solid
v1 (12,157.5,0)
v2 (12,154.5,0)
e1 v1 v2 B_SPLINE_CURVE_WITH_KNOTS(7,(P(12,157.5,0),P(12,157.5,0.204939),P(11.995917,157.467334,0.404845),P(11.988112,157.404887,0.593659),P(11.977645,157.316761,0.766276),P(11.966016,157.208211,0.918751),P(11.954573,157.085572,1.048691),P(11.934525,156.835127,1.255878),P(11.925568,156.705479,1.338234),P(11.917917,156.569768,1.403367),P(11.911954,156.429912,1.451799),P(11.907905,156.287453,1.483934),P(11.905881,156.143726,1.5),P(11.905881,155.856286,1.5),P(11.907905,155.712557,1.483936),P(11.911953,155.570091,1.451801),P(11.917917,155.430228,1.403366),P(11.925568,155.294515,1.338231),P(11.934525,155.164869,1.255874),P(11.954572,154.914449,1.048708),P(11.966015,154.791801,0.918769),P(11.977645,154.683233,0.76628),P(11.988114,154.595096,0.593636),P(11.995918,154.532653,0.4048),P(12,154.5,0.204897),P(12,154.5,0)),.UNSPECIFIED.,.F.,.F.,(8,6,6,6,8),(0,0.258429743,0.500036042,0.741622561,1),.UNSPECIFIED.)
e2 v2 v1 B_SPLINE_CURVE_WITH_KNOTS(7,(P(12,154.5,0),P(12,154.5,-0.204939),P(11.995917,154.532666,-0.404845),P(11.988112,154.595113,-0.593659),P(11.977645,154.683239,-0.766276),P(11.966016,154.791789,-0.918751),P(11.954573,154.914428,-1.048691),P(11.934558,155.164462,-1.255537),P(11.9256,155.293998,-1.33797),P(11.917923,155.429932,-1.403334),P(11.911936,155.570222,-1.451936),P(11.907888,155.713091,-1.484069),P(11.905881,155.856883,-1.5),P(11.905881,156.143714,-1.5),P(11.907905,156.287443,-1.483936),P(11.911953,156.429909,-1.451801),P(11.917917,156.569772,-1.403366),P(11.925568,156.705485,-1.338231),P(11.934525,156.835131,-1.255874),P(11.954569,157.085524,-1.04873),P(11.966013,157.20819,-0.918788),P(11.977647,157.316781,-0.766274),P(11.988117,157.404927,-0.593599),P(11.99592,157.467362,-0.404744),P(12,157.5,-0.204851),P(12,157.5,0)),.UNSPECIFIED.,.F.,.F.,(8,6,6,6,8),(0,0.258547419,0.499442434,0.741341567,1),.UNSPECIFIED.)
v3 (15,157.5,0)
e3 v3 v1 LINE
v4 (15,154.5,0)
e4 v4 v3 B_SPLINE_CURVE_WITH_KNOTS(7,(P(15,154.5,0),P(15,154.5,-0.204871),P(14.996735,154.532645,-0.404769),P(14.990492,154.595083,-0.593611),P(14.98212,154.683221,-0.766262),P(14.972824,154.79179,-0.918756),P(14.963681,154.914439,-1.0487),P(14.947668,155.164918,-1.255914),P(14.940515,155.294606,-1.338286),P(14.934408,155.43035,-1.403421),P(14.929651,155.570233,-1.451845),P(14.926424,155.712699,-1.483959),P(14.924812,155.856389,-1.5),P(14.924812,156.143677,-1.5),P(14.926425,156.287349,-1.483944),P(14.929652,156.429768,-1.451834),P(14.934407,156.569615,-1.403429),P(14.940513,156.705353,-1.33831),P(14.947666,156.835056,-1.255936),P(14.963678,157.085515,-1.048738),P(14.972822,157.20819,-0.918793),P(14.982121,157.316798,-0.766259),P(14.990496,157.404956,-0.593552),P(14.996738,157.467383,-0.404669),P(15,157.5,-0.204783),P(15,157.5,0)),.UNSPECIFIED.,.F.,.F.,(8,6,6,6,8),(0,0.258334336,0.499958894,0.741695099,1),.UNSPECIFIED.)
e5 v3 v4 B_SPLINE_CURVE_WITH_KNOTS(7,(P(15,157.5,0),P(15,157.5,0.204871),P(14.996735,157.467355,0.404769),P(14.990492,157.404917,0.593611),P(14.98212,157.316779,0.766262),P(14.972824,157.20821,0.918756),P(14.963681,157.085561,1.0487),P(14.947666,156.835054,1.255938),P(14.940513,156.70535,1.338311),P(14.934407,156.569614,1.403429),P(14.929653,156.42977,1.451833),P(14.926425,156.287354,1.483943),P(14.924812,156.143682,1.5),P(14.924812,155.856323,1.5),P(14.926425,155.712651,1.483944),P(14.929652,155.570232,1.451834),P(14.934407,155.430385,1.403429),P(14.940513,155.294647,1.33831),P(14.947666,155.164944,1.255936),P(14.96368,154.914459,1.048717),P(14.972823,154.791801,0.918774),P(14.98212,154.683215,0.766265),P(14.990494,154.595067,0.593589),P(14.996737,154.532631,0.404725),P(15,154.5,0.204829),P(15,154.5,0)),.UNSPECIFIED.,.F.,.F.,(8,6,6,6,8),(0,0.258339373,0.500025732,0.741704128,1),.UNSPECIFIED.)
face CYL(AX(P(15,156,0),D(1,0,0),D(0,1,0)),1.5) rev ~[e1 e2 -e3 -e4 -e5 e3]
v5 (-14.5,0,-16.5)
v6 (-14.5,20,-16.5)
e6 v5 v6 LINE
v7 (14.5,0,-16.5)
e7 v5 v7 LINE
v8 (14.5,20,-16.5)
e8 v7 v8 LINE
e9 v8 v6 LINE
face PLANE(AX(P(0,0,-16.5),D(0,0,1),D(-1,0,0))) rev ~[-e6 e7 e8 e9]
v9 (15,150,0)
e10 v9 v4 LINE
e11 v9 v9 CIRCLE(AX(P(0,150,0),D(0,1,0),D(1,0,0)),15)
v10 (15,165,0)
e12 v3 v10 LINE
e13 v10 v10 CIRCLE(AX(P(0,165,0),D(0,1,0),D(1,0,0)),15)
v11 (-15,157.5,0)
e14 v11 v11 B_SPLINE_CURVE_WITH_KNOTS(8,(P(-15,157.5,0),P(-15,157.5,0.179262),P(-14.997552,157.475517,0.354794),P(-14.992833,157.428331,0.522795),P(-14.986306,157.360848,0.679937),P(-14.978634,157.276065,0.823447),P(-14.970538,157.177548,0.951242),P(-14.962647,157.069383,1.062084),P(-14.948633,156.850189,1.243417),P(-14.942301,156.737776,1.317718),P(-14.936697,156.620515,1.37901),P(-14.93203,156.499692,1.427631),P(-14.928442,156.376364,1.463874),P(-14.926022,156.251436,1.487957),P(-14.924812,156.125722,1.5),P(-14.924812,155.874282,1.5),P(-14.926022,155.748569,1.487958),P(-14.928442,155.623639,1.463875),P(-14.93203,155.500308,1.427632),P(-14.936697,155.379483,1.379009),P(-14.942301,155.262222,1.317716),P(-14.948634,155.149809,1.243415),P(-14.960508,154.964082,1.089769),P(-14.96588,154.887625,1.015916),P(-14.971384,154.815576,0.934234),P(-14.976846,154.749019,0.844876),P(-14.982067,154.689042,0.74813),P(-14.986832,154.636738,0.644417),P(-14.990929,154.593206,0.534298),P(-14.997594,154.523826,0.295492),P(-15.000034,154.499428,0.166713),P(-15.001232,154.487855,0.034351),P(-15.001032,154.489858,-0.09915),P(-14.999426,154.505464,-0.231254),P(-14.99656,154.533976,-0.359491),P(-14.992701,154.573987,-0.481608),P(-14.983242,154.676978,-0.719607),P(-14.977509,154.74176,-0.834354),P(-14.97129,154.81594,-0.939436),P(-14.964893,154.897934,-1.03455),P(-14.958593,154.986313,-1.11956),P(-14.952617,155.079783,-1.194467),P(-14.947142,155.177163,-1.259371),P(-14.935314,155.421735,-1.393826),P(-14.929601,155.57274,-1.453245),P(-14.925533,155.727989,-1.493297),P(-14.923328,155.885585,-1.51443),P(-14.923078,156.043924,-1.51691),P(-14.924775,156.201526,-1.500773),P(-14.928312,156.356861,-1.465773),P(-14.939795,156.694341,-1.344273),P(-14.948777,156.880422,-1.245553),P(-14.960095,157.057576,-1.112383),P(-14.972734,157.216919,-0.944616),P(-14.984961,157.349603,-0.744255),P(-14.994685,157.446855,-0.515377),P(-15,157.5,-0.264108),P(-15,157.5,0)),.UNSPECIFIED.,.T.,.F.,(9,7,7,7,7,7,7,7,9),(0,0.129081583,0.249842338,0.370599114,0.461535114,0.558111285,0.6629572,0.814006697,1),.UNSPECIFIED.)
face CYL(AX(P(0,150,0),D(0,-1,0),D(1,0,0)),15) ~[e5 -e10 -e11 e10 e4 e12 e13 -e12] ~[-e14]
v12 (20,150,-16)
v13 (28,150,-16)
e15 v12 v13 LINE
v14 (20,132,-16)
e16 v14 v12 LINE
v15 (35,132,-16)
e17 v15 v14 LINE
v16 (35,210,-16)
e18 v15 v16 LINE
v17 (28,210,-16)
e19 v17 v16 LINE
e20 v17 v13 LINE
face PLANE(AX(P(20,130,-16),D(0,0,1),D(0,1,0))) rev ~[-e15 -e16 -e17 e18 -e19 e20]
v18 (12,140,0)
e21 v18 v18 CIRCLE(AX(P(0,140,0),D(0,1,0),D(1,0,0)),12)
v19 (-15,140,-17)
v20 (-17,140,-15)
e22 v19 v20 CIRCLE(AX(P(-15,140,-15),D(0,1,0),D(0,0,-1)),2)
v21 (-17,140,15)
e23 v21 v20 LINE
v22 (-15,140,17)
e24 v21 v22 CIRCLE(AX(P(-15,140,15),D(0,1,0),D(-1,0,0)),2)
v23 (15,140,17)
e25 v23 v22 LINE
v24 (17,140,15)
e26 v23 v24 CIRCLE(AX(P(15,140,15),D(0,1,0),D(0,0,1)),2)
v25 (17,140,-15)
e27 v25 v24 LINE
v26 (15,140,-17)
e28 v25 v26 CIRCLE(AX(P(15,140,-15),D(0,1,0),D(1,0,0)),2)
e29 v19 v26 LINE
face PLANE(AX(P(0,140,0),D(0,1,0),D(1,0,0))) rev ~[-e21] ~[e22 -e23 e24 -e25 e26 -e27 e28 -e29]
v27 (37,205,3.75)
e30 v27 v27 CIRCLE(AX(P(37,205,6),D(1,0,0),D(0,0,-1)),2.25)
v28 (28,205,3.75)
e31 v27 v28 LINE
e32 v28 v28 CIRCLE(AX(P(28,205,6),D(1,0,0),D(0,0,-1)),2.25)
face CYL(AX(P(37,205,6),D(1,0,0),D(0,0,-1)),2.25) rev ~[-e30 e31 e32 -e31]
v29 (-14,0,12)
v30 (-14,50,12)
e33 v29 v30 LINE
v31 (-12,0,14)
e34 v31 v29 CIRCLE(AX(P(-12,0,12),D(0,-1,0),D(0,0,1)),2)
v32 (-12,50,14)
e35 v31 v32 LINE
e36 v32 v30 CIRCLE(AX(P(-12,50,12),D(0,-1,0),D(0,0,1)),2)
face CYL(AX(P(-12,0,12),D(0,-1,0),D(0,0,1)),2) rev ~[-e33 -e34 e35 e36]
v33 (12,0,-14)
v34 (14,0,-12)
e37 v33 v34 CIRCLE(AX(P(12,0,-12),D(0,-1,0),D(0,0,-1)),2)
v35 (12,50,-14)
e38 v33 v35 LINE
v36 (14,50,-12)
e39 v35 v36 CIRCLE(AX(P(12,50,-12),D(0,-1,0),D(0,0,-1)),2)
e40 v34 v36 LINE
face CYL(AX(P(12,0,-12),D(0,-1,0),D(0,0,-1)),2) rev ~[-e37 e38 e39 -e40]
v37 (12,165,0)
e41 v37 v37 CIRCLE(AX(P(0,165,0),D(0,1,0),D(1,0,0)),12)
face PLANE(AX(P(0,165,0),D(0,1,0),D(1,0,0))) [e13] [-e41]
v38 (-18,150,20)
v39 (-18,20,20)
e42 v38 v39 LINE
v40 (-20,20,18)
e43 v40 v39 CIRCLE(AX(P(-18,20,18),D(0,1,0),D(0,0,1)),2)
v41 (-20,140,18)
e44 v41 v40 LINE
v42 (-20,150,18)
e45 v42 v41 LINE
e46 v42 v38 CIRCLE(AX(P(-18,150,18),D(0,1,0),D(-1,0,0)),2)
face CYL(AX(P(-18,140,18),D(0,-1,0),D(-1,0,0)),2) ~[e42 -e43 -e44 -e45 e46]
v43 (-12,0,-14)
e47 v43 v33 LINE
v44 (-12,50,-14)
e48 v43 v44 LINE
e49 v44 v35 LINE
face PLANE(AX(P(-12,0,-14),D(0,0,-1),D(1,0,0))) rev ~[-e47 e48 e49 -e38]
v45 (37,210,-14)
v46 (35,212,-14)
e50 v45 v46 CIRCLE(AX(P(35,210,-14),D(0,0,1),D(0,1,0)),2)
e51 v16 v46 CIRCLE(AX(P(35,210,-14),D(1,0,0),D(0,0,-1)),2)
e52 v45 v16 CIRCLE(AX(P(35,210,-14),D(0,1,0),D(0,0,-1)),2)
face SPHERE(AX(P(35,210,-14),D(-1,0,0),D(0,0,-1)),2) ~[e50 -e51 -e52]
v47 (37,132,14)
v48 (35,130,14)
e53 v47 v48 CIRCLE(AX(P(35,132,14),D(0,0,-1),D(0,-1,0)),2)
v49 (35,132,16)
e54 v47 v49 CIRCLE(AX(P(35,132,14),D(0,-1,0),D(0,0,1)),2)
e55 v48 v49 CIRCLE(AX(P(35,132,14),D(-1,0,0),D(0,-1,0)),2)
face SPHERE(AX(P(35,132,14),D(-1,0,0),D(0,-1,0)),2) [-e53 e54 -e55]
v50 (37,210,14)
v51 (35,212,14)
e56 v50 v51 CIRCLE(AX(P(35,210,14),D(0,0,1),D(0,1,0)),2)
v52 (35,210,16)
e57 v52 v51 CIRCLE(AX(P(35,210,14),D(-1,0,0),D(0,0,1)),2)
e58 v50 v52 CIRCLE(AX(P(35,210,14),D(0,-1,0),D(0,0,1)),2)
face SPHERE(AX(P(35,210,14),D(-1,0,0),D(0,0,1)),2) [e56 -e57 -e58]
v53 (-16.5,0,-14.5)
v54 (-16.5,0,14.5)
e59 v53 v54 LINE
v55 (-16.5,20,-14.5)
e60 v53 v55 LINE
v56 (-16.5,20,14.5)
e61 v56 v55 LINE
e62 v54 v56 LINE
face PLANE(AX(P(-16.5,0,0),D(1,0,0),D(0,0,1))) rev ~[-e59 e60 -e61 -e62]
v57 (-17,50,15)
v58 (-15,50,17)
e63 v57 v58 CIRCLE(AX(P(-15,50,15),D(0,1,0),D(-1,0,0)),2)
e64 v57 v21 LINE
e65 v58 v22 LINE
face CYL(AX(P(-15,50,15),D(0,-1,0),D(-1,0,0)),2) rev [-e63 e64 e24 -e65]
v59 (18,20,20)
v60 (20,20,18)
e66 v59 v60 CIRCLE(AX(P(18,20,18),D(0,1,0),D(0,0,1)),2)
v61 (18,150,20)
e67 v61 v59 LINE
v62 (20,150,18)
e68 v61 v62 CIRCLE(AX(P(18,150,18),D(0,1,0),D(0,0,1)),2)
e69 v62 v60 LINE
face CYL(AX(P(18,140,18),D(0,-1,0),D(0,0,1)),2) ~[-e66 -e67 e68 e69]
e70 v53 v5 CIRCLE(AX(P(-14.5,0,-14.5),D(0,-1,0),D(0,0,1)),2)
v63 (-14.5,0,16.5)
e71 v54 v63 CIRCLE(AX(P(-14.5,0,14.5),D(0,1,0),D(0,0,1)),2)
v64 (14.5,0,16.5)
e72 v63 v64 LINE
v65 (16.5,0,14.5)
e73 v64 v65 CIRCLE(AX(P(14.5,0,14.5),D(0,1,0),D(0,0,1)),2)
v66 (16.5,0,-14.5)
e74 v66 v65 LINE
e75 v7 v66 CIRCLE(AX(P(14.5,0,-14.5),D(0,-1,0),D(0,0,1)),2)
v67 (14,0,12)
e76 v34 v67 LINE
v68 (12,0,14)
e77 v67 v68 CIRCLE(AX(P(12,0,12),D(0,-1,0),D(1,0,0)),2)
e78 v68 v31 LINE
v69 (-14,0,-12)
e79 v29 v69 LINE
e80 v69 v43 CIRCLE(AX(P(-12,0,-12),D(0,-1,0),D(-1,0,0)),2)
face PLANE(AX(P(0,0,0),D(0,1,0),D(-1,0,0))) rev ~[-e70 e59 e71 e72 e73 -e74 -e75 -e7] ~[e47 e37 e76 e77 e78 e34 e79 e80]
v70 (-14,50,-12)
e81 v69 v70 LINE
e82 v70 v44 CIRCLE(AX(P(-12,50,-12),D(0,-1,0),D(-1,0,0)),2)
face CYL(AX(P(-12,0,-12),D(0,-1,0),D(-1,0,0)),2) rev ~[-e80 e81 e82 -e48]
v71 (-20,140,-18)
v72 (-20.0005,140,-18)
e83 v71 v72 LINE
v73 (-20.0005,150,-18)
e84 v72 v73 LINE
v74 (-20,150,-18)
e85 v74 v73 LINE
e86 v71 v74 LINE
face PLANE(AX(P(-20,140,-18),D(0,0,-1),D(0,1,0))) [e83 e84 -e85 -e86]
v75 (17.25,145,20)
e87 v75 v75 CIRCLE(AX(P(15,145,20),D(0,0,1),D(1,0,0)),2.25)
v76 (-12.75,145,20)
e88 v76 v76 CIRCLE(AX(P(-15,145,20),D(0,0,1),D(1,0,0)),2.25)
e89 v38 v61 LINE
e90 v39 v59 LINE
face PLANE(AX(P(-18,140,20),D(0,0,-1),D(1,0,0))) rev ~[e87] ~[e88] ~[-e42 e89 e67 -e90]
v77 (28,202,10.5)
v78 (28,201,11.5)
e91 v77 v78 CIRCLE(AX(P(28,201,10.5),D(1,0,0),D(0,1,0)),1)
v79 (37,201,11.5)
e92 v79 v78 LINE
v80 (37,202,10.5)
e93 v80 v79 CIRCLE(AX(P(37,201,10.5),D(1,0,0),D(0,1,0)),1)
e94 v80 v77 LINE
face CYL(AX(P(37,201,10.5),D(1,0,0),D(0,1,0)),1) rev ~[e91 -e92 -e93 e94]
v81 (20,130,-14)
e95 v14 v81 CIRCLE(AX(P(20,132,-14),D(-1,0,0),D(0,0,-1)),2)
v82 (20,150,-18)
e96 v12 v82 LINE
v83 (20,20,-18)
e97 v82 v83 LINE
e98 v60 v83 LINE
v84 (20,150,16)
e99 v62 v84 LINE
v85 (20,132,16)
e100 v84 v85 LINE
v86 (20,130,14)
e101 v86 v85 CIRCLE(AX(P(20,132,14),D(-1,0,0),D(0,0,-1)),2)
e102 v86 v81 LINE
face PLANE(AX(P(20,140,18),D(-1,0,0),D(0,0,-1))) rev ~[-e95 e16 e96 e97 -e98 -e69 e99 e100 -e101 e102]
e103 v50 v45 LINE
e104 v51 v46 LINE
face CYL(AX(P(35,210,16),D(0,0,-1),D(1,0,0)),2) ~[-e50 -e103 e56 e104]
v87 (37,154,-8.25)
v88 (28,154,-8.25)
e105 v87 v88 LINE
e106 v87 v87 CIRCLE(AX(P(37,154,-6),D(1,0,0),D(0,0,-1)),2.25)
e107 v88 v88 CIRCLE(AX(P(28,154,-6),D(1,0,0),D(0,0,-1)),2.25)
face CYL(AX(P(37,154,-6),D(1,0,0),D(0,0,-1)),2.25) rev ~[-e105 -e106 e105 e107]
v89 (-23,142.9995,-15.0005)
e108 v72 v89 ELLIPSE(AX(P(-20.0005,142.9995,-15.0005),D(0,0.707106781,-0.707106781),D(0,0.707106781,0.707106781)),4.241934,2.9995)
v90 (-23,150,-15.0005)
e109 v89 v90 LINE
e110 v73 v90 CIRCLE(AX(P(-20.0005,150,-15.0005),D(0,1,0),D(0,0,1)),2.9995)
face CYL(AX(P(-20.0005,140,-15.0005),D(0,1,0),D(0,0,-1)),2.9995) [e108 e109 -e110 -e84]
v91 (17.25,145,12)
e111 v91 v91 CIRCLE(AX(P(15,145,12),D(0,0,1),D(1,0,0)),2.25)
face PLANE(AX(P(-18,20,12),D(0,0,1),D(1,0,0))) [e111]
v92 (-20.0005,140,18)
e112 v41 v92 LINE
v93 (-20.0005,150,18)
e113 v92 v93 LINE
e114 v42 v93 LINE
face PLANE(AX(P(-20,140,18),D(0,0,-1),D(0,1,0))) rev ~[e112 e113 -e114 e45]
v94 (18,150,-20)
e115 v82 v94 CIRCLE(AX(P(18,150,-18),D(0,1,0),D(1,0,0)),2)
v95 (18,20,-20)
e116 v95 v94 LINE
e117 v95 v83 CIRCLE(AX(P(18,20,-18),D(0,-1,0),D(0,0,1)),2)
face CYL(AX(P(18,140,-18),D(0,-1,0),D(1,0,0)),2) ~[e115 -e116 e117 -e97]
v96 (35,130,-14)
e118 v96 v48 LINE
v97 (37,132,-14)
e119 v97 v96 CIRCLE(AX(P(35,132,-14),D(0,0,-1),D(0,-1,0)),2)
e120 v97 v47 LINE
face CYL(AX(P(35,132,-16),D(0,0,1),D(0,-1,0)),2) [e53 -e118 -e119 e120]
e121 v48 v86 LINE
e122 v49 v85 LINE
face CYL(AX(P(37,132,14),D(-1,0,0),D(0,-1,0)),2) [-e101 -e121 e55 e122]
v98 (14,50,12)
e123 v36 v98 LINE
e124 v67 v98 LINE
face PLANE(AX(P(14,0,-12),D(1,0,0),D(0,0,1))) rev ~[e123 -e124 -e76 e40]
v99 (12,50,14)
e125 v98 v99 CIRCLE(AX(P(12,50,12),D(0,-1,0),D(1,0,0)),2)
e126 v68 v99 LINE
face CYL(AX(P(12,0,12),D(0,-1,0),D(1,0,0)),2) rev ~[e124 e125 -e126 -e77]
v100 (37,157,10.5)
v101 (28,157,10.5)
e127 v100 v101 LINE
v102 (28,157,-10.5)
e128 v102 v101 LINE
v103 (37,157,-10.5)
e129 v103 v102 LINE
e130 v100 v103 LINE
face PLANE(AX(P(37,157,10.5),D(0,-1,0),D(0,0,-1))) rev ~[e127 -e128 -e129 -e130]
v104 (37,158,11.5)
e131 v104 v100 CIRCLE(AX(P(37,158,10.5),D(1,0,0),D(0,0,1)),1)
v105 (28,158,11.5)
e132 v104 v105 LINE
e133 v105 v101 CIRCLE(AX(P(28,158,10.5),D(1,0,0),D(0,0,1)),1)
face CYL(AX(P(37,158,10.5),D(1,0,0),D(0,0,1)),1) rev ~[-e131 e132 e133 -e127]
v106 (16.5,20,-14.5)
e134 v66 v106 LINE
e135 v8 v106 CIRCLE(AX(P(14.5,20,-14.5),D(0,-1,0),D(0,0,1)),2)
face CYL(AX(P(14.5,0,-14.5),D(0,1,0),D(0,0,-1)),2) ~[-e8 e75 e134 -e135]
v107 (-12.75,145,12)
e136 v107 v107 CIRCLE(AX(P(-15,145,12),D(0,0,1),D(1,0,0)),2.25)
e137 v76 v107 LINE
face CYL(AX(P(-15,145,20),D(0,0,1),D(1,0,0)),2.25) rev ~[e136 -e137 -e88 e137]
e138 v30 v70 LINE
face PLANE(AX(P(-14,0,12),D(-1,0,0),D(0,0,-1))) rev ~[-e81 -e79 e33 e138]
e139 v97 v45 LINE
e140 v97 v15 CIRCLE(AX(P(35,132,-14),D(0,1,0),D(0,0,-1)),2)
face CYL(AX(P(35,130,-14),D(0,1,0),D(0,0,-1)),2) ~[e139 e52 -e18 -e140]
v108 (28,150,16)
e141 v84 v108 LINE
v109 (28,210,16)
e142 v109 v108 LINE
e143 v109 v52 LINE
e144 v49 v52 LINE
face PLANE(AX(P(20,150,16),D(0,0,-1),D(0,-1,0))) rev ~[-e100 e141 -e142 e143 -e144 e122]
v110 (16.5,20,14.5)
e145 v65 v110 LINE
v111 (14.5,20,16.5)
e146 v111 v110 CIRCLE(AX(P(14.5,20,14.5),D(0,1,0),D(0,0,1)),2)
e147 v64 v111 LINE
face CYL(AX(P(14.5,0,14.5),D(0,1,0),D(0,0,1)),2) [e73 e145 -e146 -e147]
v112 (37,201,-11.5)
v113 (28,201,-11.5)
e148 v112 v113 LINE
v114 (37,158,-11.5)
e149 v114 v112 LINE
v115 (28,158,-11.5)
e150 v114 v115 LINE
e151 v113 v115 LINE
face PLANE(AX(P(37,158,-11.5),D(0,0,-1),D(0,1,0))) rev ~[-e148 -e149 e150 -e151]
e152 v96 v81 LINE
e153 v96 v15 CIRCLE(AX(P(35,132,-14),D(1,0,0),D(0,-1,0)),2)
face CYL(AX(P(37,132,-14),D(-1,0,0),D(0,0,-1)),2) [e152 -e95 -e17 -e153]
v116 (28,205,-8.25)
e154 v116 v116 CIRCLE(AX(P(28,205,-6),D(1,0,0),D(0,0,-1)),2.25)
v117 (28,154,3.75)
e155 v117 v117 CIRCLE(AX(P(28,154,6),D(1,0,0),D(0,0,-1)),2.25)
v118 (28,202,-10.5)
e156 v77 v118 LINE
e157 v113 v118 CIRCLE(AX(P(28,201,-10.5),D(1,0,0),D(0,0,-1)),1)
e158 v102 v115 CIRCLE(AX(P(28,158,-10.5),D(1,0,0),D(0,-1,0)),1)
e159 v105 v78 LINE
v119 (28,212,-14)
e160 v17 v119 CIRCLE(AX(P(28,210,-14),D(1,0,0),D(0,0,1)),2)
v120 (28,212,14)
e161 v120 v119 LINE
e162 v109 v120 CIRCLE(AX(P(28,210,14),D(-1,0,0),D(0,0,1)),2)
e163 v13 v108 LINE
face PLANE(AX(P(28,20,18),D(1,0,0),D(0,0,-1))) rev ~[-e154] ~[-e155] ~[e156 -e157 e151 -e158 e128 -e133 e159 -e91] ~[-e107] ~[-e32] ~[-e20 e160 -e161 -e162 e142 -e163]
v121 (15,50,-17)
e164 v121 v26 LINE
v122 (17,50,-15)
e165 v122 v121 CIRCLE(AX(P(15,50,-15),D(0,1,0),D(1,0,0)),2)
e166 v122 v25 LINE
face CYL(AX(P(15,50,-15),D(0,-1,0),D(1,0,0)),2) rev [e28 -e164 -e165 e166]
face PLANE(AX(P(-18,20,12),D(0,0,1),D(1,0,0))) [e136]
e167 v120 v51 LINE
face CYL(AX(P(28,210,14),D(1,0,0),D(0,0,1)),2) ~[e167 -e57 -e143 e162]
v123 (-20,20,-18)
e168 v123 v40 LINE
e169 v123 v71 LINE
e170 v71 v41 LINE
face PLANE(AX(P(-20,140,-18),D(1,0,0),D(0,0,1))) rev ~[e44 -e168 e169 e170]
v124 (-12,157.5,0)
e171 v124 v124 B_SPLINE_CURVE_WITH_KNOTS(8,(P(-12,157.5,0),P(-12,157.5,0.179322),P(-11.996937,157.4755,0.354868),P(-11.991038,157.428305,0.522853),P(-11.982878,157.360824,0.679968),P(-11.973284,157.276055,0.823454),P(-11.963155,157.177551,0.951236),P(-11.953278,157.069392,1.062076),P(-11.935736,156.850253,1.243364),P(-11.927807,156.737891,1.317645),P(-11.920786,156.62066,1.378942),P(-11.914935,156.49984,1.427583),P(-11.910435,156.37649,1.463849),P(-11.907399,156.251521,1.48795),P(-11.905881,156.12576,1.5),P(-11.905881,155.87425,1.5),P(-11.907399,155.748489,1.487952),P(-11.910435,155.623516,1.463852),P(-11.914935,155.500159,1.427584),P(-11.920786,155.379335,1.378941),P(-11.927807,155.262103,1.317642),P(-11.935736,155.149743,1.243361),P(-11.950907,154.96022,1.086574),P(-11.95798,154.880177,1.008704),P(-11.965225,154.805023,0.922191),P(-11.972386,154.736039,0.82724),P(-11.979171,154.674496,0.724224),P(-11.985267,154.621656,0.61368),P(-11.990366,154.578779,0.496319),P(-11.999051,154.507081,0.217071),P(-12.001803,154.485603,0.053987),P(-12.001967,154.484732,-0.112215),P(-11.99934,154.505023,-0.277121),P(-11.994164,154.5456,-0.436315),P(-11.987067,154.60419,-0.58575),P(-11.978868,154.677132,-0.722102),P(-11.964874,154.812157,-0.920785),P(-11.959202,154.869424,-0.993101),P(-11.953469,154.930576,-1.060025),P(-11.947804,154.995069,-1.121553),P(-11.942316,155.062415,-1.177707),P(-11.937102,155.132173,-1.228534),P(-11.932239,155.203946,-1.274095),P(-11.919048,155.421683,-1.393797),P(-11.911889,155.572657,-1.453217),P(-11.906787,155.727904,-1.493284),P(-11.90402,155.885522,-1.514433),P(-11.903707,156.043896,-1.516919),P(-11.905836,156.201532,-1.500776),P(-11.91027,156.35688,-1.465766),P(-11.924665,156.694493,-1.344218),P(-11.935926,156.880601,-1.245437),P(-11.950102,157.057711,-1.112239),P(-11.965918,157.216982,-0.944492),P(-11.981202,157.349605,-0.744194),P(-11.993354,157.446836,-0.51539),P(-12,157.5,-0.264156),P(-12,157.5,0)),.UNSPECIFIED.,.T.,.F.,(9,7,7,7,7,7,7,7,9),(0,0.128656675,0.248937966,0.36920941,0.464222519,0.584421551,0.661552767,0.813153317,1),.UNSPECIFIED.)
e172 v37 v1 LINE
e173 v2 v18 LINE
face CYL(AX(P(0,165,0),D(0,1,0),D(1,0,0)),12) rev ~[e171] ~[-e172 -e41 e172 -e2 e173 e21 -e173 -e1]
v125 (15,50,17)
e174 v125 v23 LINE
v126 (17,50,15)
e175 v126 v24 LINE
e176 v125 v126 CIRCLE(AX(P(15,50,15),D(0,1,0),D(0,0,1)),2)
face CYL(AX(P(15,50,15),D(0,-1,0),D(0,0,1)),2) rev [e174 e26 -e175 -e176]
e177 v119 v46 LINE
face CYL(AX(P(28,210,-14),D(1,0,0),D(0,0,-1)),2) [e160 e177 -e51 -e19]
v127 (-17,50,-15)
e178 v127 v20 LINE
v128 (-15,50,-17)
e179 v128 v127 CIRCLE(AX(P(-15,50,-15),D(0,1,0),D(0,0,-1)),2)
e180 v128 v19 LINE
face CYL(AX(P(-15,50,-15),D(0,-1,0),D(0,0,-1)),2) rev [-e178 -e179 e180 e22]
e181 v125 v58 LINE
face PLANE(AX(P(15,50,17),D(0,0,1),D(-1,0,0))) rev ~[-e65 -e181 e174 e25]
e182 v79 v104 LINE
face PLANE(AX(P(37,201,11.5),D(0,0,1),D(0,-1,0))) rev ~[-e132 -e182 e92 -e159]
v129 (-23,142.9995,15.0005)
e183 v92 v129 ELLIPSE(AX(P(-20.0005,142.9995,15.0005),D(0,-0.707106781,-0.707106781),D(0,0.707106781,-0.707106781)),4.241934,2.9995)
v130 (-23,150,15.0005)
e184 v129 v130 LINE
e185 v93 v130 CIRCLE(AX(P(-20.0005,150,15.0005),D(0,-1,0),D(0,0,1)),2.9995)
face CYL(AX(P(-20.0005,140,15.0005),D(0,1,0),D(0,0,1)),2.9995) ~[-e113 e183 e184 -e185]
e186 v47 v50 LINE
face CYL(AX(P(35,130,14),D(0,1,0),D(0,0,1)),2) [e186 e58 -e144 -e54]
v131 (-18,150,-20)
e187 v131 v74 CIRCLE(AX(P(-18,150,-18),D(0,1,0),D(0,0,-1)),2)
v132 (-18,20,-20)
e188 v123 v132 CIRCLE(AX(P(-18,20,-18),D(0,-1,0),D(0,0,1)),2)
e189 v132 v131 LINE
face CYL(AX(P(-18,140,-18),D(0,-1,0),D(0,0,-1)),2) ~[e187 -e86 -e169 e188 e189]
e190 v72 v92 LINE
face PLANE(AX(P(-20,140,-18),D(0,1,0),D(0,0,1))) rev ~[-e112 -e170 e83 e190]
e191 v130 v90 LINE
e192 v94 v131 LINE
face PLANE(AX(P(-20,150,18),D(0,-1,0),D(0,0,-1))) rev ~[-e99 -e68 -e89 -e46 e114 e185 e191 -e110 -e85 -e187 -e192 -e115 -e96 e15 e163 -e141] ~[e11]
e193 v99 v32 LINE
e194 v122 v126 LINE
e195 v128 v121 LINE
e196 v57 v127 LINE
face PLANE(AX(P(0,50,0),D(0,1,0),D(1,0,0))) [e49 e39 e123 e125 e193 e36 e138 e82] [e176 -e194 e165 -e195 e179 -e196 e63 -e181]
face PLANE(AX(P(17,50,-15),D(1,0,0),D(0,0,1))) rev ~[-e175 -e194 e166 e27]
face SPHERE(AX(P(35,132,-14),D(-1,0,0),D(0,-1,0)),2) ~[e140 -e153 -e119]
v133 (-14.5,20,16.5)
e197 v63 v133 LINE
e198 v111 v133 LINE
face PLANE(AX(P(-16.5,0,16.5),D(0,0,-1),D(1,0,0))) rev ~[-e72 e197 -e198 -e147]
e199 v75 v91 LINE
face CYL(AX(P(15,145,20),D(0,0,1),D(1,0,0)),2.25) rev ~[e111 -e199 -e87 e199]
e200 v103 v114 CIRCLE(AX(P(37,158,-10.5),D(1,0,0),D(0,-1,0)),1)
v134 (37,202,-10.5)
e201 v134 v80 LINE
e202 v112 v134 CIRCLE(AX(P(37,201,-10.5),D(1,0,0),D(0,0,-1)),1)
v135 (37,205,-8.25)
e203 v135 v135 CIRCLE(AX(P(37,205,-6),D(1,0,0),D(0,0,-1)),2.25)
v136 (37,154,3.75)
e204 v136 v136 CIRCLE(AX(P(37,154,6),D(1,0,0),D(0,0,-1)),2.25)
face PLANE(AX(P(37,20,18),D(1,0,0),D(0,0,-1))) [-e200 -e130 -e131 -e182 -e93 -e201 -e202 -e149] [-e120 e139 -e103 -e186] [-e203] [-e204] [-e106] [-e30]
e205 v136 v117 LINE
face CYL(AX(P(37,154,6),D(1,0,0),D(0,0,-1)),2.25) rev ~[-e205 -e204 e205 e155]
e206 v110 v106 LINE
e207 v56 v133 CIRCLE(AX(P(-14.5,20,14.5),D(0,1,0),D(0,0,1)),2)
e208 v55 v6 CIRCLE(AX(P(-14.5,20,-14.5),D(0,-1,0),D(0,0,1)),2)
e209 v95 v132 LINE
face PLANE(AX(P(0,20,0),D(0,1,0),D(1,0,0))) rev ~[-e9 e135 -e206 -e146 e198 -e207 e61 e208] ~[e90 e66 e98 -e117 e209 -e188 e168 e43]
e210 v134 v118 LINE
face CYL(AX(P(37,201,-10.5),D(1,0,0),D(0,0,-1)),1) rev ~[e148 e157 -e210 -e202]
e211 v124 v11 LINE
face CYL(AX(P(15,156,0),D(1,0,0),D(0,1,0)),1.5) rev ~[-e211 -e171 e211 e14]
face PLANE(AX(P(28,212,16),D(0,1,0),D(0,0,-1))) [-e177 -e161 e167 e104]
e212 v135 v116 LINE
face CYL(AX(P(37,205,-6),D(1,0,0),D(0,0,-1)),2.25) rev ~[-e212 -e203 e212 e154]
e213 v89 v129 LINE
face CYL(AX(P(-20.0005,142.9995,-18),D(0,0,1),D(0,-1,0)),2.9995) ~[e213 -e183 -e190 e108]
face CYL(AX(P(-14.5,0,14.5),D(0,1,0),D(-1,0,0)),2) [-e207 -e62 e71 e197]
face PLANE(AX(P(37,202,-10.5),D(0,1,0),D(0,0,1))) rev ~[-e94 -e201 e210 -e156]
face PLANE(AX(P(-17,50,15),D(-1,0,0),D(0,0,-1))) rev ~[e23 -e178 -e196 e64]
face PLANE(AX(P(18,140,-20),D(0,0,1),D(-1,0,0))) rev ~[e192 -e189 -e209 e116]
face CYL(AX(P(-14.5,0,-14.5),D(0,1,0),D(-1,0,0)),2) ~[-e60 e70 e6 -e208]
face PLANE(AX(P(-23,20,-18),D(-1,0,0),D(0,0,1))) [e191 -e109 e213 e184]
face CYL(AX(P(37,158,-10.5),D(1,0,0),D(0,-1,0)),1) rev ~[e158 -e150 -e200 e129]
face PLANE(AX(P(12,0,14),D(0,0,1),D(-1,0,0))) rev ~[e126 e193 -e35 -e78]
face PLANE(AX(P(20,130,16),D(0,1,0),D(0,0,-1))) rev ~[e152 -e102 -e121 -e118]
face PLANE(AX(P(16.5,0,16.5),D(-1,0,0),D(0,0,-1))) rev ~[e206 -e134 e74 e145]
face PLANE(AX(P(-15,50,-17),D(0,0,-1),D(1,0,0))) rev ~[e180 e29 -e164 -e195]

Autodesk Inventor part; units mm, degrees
ref_plane "XZ Plane" through (0, 0, 0) normal (0, 1, 0) x (-1, 0, 0)
ref_plane "XY Plane" through (0, 0, 0) normal (0, 0, 1) x (1, 0, 0)
sketch "スケッチ1" plane through (0, 0, 0) normal (0, 1, 0) x (-1, 0, 0)
  line L0 (16.5, 16.5) -> (-16.5, 16.5)
  line L1 (-16.5, 16.5) -> (-16.5, -16.5)
  line L2 (-16.5, -16.5) -> (16.5, -16.5)
  line L3 (16.5, -16.5) -> (16.5, 16.5)
  line L4 (-23.1, 0) -> (23.1, 0) projected
  line L5 (0, -23.1) -> (0, 23.1) projected
  point P0 (0, 0)
  dimension "d0" = 33
  dimension "d1" = 33
extrude "押し出し1" add sketch "スケッチ1" along normal blind 20
fillet "フィレット1" radius 2 4 edges at (16.5, 10, 16.5) (-16.5, 10, 16.5) (16.5, 10, -16.5) (-16.5, 10, -16.5)
sketch "スケッチ2" plane through (0, 20, 0) normal (0, 1, 0) x (1, 0, 0)
  line L0 (-20, -20) -> (20, -20)
  line L1 (20, -20) -> (20, 20)
  line L2 (20, 20) -> (-20, 20)
  line L3 (-20, 20) -> (-20, -20)
  line L4 (-14.5, -16.5) -> (14.5, -16.5) projected
  line L5 (-16.5, 14.5) -> (-16.5, -14.5) projected
  line L6 (16.5, -14.5) -> (16.5, 14.5) projected
  line L7 (14.5, 16.5) -> (-14.5, 16.5) projected
  point P0 (0, 0)
  dimension "d5" = 3.5
  dimension "d6" = 3.5
  dimension "d7" = 3.5
  dimension "d8" = 3.5
extrude "押し出し2" add sketch "スケッチ2" along normal blind 30
fillet "フィレット2" radius 2 4 edges at (20, 35, 20) (20, 35, -20) (-20, 35, -20) (-20, 35, 20)
sketch "スケッチ3" plane through (0, 0, 0) normal (0, -1, 0) x (1, 0, 0)
  line L0 (12, 14) -> (-12, 14)
  line L1 (-14, 12) -> (-14, -12)
  line L2 (-12, -14) -> (12, -14)
  line L3 (14, -12) -> (14, 12)
  arc A0 (14, 12) -> (12, 14) centre (12, 12) ccw
  arc A1 (12, -14) -> (14, -12) centre (12, -12) ccw
  arc A2 (-14, -12) -> (-12, -14) centre (-12, -12) ccw
  arc A3 (-12, 14) -> (-14, 12) centre (-12, 12) ccw
  line L4 (16.5, 14.5) -> (16.5, -14.5) projected
  line L5 (14.5, -16.5) -> (-14.5, -16.5) projected
  line L6 (-14.5, 16.5) -> (14.5, 16.5) projected
  line L7 (-16.5, -14.5) -> (-16.5, 14.5) projected
  point P0 (0, 0)
  dimension "d12" = 2
  dimension "d13" = 2.5
  dimension "d14" = 2.5
  dimension "d15" = 2.5
  dimension "d16" = 2.5
extrude "押し出し3" cut sketch "スケッチ3" against normal up to next
sketch "スケッチ4" plane through (0, 50, 0) normal (0, 1, 0) x (1, 0, 0)
  line L0 (18, 20) -> (-18, 20) projected
  arc A0 (-18, 20) -> (-20, 18) centre (-18, 18) ccw projected
  line L1 (-20, 18) -> (-20, -18) projected
  arc A1 (-20, -18) -> (-18, -20) centre (-18, -18) ccw projected
  line L2 (-18, -20) -> (18, -20) projected
  arc A2 (18, -20) -> (20, -18) centre (18, -18) ccw projected
  line L3 (20, -18) -> (20, 18) projected
  arc A3 (20, 18) -> (18, 20) centre (18, 18) ccw projected
  line L4 (-15, 17) -> (15, 17)
  line L5 (17, 15) -> (17, -15)
  line L6 (15, -17) -> (-15, -17)
  line L7 (-17, -15) -> (-17, 15)
  arc A4 (-15, 17) -> (-17, 15) centre (-15, 15) ccw
  arc A5 (-17, -15) -> (-15, -17) centre (-15, -15) ccw
  arc A6 (15, -17) -> (17, -15) centre (15, -15) ccw
  arc A7 (17, 15) -> (15, 17) centre (15, 15) ccw
  point P0 (0, 0)
  dimension "d21" = 2
  dimension "d22" = 3
  dimension "d23" = 3
  dimension "d24" = 3
  dimension "d25" = 3
extrude "押し出し5" add sketch "スケッチ4" along normal blind 90
sketch "スケッチ5" plane through (0, 140, 0) normal (0, 1, 0) x (1, 0, 0)
  line L0 (18, 20) -> (-18, 20) projected
  arc A0 (-18, 20) -> (-20, 18) centre (-18, 18) ccw projected
  line L1 (-20, 18) -> (-20, -18) projected
  arc A1 (-20, -18) -> (-18, -20) centre (-18, -18) ccw projected
  line L2 (-18, -20) -> (18, -20) projected
  arc A2 (18, -20) -> (20, -18) centre (18, -18) ccw projected
  line L3 (20, -18) -> (20, 18) projected
  arc A3 (20, 18) -> (18, 20) centre (18, 18) ccw projected
  point P0 (0, 0)
extrude "押し出し6" add sketch "スケッチ5" along normal blind 10
sketch "スケッチ6" plane through (0, 150, 0) normal (0, 1, 0) x (1, 0, 0)
  circle A0 centre (0, 0) radius 15
  dimension "d30" = 30
extrude "押し出し7" add sketch "スケッチ6" along normal blind 15
sketch "スケッチ7" plane through (0, 165, 0) normal (0, 1, 0) x (1, 0, 0)
  circle A0 centre (0, 0) radius 12
  circle A1 centre (0, 0) radius 15 projected
  dimension "d33" = 3
extrude "押し出し8" cut sketch "スケッチ7" against normal up to next contours A0
sketch "スケッチ8" plane through (20, 20, 18) normal (1, 0, 0) x (0, 0, -1)
  line L0 (34, 130) -> (2, 130)
  line L1 (2, 130) -> (2, 110)
  line L2 (2, 110) -> (34, 110)
  line L3 (34, 110) -> (34, 130)
  line L4 (0, 130) -> (36, 130) projected
  line L5 (38, 0) -> (38, 130) projected
  line L6 (-2, 130) -> (-2, 0) projected
  point P0 (18, -20)
  dimension "d36" = 20
  dimension "d37" = 32
  dimension "d38" = 4
  dimension "d39" = 4
extrude "押し出し9" add sketch "スケッチ8" along normal blind 8
sketch "スケッチ9" plane through (28, 20, 18) normal (1, 0, 0) x (0, 0, -1)
  line L0 (34, 130) -> (34, 110) projected
  line L1 (34, 110) -> (2, 110)
  line L2 (2, 110) -> (2, 192)
  line L3 (2, 192) -> (34, 192)
  line L4 (34, 192) -> (34, 110)
  line L5 (34, 130) -> (2, 130) projected
  point P0 (18, -20)
  dimension "d42" = 32
  dimension "d43" = 62
extrude "押し出し10" add sketch "スケッチ9" along normal blind 9
sketch "スケッチ10" plane through (37, 20, 18) normal (1, 0, 0) x (0, 0, -1)
  line L0 (28.5, 182) -> (7.5, 182)
  line L1 (6.5, 181) -> (6.5, 138)
  line L2 (7.5, 137) -> (28.5, 137)
  line L3 (29.5, 138) -> (29.5, 181)
  line L4 (34, 192) -> (2, 192) projected
  line L5 (34, 110) -> (34, 192) projected
  line L6 (2, 192) -> (2, 110) projected
  arc A0 (29.5, 181) -> (28.5, 182) centre (28.5, 181) ccw
  arc A1 (28.5, 137) -> (29.5, 138) centre (28.5, 138) ccw
  arc A2 (6.5, 138) -> (7.5, 137) centre (7.5, 138) ccw
  arc A3 (7.5, 182) -> (6.5, 181) centre (7.5, 181) ccw
  point P0 (18, -20)
  point P1 (29.5, 182)
  point P2 (6.5, 182)
  point P3 (29.5, 137)
  dimension "d46" = 45
  dimension "d47" = 23
  dimension "d48" = 10
  dimension "d49" = 4.5
  dimension "d50" = 4.5
  dimension "d51" = 1
extrude "押し出し11" cut sketch "スケッチ10" against normal up to next
fillet "フィレット3" radius 2 8 edges at (32.5, 212, -16) (32.5, 212, 16) (28.5, 130, -16) (28.5, 130, 16) (37, 130, 0) (37, 171, -16) (37, 171, 16) (37, 212, 0)
sketch "スケッチ11" plane through (37, 20, 18) normal (1, 0, 0) x (0, 0, -1)
  circle A0 centre (24, 185) radius 2.25
  circle A1 centre (12, 185) radius 2.25
  circle A2 centre (24, 134) radius 2.25
  circle A3 centre (12, 134) radius 2.25
  line L0 (7.5, 182) -> (28.5, 182) projected
  line L1 (28.5, 137) -> (7.5, 137) projected
  line L2 (34, 112) -> (34, 190) projected
  line L3 (2, 190) -> (2, 112) projected
  point P0 (18, -20)
  point P1 (34, 150)
  point P2 (2, 150)
  dimension "d55" = 12
  dimension "d56" = 4.5
  dimension "d57" = 4.5
  dimension "d58" = 4.5
  dimension "d59" = 4.5
  dimension "d60" = 12
  dimension "d61" = 51
  dimension "d62" = 51
  dimension "d63" = 3
  dimension "d64" = 3
  dimension "d65" = 10
  dimension "d66" = 10
extrude "押し出し12" cut sketch "スケッチ11" against normal up to next contours A0
extrude "押し出し13" cut sketch "スケッチ11" against normal up to next contours A1
extrude "押し出し14" cut sketch "スケッチ11" against normal up to next contours A2
extrude "押し出し15" cut sketch "スケッチ11" against normal up to next contours A3
sketch "スケッチ21" plane through (-18, 20, 20) normal (0, 0, 1) x (1, 0, 0)
  circle A0 centre (3, 125) radius 2.25
  circle A1 centre (33, 125) radius 2.25
  line L0 (0, 0) -> (0, 130) projected
  line L1 (36, 130) -> (36, 0) projected
  line L2 (0, 130) -> (36, 130) projected
  point P0 (18, -20)
  dimension "d122" = 4.5
  dimension "d123" = 4.5
  dimension "d124" = 3
  dimension "d125" = 30
  dimension "d127" = 5
  dimension "d128" = 5
  dimension "d129" = 3
extrude "押し出し25" cut sketch "スケッチ21" against normal blind 8
ref_plane "作業平面1" through (15, 150, 0) normal (1, 0, 0) x (0, 1, 0)
sketch "スケッチ24" plane through (15, 150, 0) normal (1, 0, 0) x (0, 1, 0)
  circle A0 centre (6, 0) radius 1.5
  line L0 (-130, 20) -> (0, 20) projected
  line L1 (0, -20) -> (-130, -20) projected
  circle A1 centre (55, -6) radius 2.25 projected
  point P0 (-150, 0)
  dimension "d154" = 3
  dimension "d155" = 20
  dimension "d156" = 20
  dimension "d157" = 49
extrude "押し出し29" cut sketch "スケッチ24" against normal up to surface (35 mm away) contours A0
sketch "スケッチ25" plane through (-20, 20, -18) normal (-1, 0, 0) x (0, 0, 1)
  line L0 (36, 0) -> (36, 130) projected
  line L1 (0, 0) -> (0, 130) projected
  line L2 (36, 130) -> (0, 130)
  line L3 (0, 130) -> (0, 120)
  line L4 (0, 120) -> (36, 120)
  line L5 (36, 120) -> (36, 130)
  point P0 (18, -20)
  dimension "d160" = 10
extrude "押し出し30" add sketch "スケッチ25" along normal blind 3
fillet "フィレット6" radius 3 3 edges at (-23, 145, 18) (-23, 140, 0) (-23, 145, -18)
properties part number "tube4"
